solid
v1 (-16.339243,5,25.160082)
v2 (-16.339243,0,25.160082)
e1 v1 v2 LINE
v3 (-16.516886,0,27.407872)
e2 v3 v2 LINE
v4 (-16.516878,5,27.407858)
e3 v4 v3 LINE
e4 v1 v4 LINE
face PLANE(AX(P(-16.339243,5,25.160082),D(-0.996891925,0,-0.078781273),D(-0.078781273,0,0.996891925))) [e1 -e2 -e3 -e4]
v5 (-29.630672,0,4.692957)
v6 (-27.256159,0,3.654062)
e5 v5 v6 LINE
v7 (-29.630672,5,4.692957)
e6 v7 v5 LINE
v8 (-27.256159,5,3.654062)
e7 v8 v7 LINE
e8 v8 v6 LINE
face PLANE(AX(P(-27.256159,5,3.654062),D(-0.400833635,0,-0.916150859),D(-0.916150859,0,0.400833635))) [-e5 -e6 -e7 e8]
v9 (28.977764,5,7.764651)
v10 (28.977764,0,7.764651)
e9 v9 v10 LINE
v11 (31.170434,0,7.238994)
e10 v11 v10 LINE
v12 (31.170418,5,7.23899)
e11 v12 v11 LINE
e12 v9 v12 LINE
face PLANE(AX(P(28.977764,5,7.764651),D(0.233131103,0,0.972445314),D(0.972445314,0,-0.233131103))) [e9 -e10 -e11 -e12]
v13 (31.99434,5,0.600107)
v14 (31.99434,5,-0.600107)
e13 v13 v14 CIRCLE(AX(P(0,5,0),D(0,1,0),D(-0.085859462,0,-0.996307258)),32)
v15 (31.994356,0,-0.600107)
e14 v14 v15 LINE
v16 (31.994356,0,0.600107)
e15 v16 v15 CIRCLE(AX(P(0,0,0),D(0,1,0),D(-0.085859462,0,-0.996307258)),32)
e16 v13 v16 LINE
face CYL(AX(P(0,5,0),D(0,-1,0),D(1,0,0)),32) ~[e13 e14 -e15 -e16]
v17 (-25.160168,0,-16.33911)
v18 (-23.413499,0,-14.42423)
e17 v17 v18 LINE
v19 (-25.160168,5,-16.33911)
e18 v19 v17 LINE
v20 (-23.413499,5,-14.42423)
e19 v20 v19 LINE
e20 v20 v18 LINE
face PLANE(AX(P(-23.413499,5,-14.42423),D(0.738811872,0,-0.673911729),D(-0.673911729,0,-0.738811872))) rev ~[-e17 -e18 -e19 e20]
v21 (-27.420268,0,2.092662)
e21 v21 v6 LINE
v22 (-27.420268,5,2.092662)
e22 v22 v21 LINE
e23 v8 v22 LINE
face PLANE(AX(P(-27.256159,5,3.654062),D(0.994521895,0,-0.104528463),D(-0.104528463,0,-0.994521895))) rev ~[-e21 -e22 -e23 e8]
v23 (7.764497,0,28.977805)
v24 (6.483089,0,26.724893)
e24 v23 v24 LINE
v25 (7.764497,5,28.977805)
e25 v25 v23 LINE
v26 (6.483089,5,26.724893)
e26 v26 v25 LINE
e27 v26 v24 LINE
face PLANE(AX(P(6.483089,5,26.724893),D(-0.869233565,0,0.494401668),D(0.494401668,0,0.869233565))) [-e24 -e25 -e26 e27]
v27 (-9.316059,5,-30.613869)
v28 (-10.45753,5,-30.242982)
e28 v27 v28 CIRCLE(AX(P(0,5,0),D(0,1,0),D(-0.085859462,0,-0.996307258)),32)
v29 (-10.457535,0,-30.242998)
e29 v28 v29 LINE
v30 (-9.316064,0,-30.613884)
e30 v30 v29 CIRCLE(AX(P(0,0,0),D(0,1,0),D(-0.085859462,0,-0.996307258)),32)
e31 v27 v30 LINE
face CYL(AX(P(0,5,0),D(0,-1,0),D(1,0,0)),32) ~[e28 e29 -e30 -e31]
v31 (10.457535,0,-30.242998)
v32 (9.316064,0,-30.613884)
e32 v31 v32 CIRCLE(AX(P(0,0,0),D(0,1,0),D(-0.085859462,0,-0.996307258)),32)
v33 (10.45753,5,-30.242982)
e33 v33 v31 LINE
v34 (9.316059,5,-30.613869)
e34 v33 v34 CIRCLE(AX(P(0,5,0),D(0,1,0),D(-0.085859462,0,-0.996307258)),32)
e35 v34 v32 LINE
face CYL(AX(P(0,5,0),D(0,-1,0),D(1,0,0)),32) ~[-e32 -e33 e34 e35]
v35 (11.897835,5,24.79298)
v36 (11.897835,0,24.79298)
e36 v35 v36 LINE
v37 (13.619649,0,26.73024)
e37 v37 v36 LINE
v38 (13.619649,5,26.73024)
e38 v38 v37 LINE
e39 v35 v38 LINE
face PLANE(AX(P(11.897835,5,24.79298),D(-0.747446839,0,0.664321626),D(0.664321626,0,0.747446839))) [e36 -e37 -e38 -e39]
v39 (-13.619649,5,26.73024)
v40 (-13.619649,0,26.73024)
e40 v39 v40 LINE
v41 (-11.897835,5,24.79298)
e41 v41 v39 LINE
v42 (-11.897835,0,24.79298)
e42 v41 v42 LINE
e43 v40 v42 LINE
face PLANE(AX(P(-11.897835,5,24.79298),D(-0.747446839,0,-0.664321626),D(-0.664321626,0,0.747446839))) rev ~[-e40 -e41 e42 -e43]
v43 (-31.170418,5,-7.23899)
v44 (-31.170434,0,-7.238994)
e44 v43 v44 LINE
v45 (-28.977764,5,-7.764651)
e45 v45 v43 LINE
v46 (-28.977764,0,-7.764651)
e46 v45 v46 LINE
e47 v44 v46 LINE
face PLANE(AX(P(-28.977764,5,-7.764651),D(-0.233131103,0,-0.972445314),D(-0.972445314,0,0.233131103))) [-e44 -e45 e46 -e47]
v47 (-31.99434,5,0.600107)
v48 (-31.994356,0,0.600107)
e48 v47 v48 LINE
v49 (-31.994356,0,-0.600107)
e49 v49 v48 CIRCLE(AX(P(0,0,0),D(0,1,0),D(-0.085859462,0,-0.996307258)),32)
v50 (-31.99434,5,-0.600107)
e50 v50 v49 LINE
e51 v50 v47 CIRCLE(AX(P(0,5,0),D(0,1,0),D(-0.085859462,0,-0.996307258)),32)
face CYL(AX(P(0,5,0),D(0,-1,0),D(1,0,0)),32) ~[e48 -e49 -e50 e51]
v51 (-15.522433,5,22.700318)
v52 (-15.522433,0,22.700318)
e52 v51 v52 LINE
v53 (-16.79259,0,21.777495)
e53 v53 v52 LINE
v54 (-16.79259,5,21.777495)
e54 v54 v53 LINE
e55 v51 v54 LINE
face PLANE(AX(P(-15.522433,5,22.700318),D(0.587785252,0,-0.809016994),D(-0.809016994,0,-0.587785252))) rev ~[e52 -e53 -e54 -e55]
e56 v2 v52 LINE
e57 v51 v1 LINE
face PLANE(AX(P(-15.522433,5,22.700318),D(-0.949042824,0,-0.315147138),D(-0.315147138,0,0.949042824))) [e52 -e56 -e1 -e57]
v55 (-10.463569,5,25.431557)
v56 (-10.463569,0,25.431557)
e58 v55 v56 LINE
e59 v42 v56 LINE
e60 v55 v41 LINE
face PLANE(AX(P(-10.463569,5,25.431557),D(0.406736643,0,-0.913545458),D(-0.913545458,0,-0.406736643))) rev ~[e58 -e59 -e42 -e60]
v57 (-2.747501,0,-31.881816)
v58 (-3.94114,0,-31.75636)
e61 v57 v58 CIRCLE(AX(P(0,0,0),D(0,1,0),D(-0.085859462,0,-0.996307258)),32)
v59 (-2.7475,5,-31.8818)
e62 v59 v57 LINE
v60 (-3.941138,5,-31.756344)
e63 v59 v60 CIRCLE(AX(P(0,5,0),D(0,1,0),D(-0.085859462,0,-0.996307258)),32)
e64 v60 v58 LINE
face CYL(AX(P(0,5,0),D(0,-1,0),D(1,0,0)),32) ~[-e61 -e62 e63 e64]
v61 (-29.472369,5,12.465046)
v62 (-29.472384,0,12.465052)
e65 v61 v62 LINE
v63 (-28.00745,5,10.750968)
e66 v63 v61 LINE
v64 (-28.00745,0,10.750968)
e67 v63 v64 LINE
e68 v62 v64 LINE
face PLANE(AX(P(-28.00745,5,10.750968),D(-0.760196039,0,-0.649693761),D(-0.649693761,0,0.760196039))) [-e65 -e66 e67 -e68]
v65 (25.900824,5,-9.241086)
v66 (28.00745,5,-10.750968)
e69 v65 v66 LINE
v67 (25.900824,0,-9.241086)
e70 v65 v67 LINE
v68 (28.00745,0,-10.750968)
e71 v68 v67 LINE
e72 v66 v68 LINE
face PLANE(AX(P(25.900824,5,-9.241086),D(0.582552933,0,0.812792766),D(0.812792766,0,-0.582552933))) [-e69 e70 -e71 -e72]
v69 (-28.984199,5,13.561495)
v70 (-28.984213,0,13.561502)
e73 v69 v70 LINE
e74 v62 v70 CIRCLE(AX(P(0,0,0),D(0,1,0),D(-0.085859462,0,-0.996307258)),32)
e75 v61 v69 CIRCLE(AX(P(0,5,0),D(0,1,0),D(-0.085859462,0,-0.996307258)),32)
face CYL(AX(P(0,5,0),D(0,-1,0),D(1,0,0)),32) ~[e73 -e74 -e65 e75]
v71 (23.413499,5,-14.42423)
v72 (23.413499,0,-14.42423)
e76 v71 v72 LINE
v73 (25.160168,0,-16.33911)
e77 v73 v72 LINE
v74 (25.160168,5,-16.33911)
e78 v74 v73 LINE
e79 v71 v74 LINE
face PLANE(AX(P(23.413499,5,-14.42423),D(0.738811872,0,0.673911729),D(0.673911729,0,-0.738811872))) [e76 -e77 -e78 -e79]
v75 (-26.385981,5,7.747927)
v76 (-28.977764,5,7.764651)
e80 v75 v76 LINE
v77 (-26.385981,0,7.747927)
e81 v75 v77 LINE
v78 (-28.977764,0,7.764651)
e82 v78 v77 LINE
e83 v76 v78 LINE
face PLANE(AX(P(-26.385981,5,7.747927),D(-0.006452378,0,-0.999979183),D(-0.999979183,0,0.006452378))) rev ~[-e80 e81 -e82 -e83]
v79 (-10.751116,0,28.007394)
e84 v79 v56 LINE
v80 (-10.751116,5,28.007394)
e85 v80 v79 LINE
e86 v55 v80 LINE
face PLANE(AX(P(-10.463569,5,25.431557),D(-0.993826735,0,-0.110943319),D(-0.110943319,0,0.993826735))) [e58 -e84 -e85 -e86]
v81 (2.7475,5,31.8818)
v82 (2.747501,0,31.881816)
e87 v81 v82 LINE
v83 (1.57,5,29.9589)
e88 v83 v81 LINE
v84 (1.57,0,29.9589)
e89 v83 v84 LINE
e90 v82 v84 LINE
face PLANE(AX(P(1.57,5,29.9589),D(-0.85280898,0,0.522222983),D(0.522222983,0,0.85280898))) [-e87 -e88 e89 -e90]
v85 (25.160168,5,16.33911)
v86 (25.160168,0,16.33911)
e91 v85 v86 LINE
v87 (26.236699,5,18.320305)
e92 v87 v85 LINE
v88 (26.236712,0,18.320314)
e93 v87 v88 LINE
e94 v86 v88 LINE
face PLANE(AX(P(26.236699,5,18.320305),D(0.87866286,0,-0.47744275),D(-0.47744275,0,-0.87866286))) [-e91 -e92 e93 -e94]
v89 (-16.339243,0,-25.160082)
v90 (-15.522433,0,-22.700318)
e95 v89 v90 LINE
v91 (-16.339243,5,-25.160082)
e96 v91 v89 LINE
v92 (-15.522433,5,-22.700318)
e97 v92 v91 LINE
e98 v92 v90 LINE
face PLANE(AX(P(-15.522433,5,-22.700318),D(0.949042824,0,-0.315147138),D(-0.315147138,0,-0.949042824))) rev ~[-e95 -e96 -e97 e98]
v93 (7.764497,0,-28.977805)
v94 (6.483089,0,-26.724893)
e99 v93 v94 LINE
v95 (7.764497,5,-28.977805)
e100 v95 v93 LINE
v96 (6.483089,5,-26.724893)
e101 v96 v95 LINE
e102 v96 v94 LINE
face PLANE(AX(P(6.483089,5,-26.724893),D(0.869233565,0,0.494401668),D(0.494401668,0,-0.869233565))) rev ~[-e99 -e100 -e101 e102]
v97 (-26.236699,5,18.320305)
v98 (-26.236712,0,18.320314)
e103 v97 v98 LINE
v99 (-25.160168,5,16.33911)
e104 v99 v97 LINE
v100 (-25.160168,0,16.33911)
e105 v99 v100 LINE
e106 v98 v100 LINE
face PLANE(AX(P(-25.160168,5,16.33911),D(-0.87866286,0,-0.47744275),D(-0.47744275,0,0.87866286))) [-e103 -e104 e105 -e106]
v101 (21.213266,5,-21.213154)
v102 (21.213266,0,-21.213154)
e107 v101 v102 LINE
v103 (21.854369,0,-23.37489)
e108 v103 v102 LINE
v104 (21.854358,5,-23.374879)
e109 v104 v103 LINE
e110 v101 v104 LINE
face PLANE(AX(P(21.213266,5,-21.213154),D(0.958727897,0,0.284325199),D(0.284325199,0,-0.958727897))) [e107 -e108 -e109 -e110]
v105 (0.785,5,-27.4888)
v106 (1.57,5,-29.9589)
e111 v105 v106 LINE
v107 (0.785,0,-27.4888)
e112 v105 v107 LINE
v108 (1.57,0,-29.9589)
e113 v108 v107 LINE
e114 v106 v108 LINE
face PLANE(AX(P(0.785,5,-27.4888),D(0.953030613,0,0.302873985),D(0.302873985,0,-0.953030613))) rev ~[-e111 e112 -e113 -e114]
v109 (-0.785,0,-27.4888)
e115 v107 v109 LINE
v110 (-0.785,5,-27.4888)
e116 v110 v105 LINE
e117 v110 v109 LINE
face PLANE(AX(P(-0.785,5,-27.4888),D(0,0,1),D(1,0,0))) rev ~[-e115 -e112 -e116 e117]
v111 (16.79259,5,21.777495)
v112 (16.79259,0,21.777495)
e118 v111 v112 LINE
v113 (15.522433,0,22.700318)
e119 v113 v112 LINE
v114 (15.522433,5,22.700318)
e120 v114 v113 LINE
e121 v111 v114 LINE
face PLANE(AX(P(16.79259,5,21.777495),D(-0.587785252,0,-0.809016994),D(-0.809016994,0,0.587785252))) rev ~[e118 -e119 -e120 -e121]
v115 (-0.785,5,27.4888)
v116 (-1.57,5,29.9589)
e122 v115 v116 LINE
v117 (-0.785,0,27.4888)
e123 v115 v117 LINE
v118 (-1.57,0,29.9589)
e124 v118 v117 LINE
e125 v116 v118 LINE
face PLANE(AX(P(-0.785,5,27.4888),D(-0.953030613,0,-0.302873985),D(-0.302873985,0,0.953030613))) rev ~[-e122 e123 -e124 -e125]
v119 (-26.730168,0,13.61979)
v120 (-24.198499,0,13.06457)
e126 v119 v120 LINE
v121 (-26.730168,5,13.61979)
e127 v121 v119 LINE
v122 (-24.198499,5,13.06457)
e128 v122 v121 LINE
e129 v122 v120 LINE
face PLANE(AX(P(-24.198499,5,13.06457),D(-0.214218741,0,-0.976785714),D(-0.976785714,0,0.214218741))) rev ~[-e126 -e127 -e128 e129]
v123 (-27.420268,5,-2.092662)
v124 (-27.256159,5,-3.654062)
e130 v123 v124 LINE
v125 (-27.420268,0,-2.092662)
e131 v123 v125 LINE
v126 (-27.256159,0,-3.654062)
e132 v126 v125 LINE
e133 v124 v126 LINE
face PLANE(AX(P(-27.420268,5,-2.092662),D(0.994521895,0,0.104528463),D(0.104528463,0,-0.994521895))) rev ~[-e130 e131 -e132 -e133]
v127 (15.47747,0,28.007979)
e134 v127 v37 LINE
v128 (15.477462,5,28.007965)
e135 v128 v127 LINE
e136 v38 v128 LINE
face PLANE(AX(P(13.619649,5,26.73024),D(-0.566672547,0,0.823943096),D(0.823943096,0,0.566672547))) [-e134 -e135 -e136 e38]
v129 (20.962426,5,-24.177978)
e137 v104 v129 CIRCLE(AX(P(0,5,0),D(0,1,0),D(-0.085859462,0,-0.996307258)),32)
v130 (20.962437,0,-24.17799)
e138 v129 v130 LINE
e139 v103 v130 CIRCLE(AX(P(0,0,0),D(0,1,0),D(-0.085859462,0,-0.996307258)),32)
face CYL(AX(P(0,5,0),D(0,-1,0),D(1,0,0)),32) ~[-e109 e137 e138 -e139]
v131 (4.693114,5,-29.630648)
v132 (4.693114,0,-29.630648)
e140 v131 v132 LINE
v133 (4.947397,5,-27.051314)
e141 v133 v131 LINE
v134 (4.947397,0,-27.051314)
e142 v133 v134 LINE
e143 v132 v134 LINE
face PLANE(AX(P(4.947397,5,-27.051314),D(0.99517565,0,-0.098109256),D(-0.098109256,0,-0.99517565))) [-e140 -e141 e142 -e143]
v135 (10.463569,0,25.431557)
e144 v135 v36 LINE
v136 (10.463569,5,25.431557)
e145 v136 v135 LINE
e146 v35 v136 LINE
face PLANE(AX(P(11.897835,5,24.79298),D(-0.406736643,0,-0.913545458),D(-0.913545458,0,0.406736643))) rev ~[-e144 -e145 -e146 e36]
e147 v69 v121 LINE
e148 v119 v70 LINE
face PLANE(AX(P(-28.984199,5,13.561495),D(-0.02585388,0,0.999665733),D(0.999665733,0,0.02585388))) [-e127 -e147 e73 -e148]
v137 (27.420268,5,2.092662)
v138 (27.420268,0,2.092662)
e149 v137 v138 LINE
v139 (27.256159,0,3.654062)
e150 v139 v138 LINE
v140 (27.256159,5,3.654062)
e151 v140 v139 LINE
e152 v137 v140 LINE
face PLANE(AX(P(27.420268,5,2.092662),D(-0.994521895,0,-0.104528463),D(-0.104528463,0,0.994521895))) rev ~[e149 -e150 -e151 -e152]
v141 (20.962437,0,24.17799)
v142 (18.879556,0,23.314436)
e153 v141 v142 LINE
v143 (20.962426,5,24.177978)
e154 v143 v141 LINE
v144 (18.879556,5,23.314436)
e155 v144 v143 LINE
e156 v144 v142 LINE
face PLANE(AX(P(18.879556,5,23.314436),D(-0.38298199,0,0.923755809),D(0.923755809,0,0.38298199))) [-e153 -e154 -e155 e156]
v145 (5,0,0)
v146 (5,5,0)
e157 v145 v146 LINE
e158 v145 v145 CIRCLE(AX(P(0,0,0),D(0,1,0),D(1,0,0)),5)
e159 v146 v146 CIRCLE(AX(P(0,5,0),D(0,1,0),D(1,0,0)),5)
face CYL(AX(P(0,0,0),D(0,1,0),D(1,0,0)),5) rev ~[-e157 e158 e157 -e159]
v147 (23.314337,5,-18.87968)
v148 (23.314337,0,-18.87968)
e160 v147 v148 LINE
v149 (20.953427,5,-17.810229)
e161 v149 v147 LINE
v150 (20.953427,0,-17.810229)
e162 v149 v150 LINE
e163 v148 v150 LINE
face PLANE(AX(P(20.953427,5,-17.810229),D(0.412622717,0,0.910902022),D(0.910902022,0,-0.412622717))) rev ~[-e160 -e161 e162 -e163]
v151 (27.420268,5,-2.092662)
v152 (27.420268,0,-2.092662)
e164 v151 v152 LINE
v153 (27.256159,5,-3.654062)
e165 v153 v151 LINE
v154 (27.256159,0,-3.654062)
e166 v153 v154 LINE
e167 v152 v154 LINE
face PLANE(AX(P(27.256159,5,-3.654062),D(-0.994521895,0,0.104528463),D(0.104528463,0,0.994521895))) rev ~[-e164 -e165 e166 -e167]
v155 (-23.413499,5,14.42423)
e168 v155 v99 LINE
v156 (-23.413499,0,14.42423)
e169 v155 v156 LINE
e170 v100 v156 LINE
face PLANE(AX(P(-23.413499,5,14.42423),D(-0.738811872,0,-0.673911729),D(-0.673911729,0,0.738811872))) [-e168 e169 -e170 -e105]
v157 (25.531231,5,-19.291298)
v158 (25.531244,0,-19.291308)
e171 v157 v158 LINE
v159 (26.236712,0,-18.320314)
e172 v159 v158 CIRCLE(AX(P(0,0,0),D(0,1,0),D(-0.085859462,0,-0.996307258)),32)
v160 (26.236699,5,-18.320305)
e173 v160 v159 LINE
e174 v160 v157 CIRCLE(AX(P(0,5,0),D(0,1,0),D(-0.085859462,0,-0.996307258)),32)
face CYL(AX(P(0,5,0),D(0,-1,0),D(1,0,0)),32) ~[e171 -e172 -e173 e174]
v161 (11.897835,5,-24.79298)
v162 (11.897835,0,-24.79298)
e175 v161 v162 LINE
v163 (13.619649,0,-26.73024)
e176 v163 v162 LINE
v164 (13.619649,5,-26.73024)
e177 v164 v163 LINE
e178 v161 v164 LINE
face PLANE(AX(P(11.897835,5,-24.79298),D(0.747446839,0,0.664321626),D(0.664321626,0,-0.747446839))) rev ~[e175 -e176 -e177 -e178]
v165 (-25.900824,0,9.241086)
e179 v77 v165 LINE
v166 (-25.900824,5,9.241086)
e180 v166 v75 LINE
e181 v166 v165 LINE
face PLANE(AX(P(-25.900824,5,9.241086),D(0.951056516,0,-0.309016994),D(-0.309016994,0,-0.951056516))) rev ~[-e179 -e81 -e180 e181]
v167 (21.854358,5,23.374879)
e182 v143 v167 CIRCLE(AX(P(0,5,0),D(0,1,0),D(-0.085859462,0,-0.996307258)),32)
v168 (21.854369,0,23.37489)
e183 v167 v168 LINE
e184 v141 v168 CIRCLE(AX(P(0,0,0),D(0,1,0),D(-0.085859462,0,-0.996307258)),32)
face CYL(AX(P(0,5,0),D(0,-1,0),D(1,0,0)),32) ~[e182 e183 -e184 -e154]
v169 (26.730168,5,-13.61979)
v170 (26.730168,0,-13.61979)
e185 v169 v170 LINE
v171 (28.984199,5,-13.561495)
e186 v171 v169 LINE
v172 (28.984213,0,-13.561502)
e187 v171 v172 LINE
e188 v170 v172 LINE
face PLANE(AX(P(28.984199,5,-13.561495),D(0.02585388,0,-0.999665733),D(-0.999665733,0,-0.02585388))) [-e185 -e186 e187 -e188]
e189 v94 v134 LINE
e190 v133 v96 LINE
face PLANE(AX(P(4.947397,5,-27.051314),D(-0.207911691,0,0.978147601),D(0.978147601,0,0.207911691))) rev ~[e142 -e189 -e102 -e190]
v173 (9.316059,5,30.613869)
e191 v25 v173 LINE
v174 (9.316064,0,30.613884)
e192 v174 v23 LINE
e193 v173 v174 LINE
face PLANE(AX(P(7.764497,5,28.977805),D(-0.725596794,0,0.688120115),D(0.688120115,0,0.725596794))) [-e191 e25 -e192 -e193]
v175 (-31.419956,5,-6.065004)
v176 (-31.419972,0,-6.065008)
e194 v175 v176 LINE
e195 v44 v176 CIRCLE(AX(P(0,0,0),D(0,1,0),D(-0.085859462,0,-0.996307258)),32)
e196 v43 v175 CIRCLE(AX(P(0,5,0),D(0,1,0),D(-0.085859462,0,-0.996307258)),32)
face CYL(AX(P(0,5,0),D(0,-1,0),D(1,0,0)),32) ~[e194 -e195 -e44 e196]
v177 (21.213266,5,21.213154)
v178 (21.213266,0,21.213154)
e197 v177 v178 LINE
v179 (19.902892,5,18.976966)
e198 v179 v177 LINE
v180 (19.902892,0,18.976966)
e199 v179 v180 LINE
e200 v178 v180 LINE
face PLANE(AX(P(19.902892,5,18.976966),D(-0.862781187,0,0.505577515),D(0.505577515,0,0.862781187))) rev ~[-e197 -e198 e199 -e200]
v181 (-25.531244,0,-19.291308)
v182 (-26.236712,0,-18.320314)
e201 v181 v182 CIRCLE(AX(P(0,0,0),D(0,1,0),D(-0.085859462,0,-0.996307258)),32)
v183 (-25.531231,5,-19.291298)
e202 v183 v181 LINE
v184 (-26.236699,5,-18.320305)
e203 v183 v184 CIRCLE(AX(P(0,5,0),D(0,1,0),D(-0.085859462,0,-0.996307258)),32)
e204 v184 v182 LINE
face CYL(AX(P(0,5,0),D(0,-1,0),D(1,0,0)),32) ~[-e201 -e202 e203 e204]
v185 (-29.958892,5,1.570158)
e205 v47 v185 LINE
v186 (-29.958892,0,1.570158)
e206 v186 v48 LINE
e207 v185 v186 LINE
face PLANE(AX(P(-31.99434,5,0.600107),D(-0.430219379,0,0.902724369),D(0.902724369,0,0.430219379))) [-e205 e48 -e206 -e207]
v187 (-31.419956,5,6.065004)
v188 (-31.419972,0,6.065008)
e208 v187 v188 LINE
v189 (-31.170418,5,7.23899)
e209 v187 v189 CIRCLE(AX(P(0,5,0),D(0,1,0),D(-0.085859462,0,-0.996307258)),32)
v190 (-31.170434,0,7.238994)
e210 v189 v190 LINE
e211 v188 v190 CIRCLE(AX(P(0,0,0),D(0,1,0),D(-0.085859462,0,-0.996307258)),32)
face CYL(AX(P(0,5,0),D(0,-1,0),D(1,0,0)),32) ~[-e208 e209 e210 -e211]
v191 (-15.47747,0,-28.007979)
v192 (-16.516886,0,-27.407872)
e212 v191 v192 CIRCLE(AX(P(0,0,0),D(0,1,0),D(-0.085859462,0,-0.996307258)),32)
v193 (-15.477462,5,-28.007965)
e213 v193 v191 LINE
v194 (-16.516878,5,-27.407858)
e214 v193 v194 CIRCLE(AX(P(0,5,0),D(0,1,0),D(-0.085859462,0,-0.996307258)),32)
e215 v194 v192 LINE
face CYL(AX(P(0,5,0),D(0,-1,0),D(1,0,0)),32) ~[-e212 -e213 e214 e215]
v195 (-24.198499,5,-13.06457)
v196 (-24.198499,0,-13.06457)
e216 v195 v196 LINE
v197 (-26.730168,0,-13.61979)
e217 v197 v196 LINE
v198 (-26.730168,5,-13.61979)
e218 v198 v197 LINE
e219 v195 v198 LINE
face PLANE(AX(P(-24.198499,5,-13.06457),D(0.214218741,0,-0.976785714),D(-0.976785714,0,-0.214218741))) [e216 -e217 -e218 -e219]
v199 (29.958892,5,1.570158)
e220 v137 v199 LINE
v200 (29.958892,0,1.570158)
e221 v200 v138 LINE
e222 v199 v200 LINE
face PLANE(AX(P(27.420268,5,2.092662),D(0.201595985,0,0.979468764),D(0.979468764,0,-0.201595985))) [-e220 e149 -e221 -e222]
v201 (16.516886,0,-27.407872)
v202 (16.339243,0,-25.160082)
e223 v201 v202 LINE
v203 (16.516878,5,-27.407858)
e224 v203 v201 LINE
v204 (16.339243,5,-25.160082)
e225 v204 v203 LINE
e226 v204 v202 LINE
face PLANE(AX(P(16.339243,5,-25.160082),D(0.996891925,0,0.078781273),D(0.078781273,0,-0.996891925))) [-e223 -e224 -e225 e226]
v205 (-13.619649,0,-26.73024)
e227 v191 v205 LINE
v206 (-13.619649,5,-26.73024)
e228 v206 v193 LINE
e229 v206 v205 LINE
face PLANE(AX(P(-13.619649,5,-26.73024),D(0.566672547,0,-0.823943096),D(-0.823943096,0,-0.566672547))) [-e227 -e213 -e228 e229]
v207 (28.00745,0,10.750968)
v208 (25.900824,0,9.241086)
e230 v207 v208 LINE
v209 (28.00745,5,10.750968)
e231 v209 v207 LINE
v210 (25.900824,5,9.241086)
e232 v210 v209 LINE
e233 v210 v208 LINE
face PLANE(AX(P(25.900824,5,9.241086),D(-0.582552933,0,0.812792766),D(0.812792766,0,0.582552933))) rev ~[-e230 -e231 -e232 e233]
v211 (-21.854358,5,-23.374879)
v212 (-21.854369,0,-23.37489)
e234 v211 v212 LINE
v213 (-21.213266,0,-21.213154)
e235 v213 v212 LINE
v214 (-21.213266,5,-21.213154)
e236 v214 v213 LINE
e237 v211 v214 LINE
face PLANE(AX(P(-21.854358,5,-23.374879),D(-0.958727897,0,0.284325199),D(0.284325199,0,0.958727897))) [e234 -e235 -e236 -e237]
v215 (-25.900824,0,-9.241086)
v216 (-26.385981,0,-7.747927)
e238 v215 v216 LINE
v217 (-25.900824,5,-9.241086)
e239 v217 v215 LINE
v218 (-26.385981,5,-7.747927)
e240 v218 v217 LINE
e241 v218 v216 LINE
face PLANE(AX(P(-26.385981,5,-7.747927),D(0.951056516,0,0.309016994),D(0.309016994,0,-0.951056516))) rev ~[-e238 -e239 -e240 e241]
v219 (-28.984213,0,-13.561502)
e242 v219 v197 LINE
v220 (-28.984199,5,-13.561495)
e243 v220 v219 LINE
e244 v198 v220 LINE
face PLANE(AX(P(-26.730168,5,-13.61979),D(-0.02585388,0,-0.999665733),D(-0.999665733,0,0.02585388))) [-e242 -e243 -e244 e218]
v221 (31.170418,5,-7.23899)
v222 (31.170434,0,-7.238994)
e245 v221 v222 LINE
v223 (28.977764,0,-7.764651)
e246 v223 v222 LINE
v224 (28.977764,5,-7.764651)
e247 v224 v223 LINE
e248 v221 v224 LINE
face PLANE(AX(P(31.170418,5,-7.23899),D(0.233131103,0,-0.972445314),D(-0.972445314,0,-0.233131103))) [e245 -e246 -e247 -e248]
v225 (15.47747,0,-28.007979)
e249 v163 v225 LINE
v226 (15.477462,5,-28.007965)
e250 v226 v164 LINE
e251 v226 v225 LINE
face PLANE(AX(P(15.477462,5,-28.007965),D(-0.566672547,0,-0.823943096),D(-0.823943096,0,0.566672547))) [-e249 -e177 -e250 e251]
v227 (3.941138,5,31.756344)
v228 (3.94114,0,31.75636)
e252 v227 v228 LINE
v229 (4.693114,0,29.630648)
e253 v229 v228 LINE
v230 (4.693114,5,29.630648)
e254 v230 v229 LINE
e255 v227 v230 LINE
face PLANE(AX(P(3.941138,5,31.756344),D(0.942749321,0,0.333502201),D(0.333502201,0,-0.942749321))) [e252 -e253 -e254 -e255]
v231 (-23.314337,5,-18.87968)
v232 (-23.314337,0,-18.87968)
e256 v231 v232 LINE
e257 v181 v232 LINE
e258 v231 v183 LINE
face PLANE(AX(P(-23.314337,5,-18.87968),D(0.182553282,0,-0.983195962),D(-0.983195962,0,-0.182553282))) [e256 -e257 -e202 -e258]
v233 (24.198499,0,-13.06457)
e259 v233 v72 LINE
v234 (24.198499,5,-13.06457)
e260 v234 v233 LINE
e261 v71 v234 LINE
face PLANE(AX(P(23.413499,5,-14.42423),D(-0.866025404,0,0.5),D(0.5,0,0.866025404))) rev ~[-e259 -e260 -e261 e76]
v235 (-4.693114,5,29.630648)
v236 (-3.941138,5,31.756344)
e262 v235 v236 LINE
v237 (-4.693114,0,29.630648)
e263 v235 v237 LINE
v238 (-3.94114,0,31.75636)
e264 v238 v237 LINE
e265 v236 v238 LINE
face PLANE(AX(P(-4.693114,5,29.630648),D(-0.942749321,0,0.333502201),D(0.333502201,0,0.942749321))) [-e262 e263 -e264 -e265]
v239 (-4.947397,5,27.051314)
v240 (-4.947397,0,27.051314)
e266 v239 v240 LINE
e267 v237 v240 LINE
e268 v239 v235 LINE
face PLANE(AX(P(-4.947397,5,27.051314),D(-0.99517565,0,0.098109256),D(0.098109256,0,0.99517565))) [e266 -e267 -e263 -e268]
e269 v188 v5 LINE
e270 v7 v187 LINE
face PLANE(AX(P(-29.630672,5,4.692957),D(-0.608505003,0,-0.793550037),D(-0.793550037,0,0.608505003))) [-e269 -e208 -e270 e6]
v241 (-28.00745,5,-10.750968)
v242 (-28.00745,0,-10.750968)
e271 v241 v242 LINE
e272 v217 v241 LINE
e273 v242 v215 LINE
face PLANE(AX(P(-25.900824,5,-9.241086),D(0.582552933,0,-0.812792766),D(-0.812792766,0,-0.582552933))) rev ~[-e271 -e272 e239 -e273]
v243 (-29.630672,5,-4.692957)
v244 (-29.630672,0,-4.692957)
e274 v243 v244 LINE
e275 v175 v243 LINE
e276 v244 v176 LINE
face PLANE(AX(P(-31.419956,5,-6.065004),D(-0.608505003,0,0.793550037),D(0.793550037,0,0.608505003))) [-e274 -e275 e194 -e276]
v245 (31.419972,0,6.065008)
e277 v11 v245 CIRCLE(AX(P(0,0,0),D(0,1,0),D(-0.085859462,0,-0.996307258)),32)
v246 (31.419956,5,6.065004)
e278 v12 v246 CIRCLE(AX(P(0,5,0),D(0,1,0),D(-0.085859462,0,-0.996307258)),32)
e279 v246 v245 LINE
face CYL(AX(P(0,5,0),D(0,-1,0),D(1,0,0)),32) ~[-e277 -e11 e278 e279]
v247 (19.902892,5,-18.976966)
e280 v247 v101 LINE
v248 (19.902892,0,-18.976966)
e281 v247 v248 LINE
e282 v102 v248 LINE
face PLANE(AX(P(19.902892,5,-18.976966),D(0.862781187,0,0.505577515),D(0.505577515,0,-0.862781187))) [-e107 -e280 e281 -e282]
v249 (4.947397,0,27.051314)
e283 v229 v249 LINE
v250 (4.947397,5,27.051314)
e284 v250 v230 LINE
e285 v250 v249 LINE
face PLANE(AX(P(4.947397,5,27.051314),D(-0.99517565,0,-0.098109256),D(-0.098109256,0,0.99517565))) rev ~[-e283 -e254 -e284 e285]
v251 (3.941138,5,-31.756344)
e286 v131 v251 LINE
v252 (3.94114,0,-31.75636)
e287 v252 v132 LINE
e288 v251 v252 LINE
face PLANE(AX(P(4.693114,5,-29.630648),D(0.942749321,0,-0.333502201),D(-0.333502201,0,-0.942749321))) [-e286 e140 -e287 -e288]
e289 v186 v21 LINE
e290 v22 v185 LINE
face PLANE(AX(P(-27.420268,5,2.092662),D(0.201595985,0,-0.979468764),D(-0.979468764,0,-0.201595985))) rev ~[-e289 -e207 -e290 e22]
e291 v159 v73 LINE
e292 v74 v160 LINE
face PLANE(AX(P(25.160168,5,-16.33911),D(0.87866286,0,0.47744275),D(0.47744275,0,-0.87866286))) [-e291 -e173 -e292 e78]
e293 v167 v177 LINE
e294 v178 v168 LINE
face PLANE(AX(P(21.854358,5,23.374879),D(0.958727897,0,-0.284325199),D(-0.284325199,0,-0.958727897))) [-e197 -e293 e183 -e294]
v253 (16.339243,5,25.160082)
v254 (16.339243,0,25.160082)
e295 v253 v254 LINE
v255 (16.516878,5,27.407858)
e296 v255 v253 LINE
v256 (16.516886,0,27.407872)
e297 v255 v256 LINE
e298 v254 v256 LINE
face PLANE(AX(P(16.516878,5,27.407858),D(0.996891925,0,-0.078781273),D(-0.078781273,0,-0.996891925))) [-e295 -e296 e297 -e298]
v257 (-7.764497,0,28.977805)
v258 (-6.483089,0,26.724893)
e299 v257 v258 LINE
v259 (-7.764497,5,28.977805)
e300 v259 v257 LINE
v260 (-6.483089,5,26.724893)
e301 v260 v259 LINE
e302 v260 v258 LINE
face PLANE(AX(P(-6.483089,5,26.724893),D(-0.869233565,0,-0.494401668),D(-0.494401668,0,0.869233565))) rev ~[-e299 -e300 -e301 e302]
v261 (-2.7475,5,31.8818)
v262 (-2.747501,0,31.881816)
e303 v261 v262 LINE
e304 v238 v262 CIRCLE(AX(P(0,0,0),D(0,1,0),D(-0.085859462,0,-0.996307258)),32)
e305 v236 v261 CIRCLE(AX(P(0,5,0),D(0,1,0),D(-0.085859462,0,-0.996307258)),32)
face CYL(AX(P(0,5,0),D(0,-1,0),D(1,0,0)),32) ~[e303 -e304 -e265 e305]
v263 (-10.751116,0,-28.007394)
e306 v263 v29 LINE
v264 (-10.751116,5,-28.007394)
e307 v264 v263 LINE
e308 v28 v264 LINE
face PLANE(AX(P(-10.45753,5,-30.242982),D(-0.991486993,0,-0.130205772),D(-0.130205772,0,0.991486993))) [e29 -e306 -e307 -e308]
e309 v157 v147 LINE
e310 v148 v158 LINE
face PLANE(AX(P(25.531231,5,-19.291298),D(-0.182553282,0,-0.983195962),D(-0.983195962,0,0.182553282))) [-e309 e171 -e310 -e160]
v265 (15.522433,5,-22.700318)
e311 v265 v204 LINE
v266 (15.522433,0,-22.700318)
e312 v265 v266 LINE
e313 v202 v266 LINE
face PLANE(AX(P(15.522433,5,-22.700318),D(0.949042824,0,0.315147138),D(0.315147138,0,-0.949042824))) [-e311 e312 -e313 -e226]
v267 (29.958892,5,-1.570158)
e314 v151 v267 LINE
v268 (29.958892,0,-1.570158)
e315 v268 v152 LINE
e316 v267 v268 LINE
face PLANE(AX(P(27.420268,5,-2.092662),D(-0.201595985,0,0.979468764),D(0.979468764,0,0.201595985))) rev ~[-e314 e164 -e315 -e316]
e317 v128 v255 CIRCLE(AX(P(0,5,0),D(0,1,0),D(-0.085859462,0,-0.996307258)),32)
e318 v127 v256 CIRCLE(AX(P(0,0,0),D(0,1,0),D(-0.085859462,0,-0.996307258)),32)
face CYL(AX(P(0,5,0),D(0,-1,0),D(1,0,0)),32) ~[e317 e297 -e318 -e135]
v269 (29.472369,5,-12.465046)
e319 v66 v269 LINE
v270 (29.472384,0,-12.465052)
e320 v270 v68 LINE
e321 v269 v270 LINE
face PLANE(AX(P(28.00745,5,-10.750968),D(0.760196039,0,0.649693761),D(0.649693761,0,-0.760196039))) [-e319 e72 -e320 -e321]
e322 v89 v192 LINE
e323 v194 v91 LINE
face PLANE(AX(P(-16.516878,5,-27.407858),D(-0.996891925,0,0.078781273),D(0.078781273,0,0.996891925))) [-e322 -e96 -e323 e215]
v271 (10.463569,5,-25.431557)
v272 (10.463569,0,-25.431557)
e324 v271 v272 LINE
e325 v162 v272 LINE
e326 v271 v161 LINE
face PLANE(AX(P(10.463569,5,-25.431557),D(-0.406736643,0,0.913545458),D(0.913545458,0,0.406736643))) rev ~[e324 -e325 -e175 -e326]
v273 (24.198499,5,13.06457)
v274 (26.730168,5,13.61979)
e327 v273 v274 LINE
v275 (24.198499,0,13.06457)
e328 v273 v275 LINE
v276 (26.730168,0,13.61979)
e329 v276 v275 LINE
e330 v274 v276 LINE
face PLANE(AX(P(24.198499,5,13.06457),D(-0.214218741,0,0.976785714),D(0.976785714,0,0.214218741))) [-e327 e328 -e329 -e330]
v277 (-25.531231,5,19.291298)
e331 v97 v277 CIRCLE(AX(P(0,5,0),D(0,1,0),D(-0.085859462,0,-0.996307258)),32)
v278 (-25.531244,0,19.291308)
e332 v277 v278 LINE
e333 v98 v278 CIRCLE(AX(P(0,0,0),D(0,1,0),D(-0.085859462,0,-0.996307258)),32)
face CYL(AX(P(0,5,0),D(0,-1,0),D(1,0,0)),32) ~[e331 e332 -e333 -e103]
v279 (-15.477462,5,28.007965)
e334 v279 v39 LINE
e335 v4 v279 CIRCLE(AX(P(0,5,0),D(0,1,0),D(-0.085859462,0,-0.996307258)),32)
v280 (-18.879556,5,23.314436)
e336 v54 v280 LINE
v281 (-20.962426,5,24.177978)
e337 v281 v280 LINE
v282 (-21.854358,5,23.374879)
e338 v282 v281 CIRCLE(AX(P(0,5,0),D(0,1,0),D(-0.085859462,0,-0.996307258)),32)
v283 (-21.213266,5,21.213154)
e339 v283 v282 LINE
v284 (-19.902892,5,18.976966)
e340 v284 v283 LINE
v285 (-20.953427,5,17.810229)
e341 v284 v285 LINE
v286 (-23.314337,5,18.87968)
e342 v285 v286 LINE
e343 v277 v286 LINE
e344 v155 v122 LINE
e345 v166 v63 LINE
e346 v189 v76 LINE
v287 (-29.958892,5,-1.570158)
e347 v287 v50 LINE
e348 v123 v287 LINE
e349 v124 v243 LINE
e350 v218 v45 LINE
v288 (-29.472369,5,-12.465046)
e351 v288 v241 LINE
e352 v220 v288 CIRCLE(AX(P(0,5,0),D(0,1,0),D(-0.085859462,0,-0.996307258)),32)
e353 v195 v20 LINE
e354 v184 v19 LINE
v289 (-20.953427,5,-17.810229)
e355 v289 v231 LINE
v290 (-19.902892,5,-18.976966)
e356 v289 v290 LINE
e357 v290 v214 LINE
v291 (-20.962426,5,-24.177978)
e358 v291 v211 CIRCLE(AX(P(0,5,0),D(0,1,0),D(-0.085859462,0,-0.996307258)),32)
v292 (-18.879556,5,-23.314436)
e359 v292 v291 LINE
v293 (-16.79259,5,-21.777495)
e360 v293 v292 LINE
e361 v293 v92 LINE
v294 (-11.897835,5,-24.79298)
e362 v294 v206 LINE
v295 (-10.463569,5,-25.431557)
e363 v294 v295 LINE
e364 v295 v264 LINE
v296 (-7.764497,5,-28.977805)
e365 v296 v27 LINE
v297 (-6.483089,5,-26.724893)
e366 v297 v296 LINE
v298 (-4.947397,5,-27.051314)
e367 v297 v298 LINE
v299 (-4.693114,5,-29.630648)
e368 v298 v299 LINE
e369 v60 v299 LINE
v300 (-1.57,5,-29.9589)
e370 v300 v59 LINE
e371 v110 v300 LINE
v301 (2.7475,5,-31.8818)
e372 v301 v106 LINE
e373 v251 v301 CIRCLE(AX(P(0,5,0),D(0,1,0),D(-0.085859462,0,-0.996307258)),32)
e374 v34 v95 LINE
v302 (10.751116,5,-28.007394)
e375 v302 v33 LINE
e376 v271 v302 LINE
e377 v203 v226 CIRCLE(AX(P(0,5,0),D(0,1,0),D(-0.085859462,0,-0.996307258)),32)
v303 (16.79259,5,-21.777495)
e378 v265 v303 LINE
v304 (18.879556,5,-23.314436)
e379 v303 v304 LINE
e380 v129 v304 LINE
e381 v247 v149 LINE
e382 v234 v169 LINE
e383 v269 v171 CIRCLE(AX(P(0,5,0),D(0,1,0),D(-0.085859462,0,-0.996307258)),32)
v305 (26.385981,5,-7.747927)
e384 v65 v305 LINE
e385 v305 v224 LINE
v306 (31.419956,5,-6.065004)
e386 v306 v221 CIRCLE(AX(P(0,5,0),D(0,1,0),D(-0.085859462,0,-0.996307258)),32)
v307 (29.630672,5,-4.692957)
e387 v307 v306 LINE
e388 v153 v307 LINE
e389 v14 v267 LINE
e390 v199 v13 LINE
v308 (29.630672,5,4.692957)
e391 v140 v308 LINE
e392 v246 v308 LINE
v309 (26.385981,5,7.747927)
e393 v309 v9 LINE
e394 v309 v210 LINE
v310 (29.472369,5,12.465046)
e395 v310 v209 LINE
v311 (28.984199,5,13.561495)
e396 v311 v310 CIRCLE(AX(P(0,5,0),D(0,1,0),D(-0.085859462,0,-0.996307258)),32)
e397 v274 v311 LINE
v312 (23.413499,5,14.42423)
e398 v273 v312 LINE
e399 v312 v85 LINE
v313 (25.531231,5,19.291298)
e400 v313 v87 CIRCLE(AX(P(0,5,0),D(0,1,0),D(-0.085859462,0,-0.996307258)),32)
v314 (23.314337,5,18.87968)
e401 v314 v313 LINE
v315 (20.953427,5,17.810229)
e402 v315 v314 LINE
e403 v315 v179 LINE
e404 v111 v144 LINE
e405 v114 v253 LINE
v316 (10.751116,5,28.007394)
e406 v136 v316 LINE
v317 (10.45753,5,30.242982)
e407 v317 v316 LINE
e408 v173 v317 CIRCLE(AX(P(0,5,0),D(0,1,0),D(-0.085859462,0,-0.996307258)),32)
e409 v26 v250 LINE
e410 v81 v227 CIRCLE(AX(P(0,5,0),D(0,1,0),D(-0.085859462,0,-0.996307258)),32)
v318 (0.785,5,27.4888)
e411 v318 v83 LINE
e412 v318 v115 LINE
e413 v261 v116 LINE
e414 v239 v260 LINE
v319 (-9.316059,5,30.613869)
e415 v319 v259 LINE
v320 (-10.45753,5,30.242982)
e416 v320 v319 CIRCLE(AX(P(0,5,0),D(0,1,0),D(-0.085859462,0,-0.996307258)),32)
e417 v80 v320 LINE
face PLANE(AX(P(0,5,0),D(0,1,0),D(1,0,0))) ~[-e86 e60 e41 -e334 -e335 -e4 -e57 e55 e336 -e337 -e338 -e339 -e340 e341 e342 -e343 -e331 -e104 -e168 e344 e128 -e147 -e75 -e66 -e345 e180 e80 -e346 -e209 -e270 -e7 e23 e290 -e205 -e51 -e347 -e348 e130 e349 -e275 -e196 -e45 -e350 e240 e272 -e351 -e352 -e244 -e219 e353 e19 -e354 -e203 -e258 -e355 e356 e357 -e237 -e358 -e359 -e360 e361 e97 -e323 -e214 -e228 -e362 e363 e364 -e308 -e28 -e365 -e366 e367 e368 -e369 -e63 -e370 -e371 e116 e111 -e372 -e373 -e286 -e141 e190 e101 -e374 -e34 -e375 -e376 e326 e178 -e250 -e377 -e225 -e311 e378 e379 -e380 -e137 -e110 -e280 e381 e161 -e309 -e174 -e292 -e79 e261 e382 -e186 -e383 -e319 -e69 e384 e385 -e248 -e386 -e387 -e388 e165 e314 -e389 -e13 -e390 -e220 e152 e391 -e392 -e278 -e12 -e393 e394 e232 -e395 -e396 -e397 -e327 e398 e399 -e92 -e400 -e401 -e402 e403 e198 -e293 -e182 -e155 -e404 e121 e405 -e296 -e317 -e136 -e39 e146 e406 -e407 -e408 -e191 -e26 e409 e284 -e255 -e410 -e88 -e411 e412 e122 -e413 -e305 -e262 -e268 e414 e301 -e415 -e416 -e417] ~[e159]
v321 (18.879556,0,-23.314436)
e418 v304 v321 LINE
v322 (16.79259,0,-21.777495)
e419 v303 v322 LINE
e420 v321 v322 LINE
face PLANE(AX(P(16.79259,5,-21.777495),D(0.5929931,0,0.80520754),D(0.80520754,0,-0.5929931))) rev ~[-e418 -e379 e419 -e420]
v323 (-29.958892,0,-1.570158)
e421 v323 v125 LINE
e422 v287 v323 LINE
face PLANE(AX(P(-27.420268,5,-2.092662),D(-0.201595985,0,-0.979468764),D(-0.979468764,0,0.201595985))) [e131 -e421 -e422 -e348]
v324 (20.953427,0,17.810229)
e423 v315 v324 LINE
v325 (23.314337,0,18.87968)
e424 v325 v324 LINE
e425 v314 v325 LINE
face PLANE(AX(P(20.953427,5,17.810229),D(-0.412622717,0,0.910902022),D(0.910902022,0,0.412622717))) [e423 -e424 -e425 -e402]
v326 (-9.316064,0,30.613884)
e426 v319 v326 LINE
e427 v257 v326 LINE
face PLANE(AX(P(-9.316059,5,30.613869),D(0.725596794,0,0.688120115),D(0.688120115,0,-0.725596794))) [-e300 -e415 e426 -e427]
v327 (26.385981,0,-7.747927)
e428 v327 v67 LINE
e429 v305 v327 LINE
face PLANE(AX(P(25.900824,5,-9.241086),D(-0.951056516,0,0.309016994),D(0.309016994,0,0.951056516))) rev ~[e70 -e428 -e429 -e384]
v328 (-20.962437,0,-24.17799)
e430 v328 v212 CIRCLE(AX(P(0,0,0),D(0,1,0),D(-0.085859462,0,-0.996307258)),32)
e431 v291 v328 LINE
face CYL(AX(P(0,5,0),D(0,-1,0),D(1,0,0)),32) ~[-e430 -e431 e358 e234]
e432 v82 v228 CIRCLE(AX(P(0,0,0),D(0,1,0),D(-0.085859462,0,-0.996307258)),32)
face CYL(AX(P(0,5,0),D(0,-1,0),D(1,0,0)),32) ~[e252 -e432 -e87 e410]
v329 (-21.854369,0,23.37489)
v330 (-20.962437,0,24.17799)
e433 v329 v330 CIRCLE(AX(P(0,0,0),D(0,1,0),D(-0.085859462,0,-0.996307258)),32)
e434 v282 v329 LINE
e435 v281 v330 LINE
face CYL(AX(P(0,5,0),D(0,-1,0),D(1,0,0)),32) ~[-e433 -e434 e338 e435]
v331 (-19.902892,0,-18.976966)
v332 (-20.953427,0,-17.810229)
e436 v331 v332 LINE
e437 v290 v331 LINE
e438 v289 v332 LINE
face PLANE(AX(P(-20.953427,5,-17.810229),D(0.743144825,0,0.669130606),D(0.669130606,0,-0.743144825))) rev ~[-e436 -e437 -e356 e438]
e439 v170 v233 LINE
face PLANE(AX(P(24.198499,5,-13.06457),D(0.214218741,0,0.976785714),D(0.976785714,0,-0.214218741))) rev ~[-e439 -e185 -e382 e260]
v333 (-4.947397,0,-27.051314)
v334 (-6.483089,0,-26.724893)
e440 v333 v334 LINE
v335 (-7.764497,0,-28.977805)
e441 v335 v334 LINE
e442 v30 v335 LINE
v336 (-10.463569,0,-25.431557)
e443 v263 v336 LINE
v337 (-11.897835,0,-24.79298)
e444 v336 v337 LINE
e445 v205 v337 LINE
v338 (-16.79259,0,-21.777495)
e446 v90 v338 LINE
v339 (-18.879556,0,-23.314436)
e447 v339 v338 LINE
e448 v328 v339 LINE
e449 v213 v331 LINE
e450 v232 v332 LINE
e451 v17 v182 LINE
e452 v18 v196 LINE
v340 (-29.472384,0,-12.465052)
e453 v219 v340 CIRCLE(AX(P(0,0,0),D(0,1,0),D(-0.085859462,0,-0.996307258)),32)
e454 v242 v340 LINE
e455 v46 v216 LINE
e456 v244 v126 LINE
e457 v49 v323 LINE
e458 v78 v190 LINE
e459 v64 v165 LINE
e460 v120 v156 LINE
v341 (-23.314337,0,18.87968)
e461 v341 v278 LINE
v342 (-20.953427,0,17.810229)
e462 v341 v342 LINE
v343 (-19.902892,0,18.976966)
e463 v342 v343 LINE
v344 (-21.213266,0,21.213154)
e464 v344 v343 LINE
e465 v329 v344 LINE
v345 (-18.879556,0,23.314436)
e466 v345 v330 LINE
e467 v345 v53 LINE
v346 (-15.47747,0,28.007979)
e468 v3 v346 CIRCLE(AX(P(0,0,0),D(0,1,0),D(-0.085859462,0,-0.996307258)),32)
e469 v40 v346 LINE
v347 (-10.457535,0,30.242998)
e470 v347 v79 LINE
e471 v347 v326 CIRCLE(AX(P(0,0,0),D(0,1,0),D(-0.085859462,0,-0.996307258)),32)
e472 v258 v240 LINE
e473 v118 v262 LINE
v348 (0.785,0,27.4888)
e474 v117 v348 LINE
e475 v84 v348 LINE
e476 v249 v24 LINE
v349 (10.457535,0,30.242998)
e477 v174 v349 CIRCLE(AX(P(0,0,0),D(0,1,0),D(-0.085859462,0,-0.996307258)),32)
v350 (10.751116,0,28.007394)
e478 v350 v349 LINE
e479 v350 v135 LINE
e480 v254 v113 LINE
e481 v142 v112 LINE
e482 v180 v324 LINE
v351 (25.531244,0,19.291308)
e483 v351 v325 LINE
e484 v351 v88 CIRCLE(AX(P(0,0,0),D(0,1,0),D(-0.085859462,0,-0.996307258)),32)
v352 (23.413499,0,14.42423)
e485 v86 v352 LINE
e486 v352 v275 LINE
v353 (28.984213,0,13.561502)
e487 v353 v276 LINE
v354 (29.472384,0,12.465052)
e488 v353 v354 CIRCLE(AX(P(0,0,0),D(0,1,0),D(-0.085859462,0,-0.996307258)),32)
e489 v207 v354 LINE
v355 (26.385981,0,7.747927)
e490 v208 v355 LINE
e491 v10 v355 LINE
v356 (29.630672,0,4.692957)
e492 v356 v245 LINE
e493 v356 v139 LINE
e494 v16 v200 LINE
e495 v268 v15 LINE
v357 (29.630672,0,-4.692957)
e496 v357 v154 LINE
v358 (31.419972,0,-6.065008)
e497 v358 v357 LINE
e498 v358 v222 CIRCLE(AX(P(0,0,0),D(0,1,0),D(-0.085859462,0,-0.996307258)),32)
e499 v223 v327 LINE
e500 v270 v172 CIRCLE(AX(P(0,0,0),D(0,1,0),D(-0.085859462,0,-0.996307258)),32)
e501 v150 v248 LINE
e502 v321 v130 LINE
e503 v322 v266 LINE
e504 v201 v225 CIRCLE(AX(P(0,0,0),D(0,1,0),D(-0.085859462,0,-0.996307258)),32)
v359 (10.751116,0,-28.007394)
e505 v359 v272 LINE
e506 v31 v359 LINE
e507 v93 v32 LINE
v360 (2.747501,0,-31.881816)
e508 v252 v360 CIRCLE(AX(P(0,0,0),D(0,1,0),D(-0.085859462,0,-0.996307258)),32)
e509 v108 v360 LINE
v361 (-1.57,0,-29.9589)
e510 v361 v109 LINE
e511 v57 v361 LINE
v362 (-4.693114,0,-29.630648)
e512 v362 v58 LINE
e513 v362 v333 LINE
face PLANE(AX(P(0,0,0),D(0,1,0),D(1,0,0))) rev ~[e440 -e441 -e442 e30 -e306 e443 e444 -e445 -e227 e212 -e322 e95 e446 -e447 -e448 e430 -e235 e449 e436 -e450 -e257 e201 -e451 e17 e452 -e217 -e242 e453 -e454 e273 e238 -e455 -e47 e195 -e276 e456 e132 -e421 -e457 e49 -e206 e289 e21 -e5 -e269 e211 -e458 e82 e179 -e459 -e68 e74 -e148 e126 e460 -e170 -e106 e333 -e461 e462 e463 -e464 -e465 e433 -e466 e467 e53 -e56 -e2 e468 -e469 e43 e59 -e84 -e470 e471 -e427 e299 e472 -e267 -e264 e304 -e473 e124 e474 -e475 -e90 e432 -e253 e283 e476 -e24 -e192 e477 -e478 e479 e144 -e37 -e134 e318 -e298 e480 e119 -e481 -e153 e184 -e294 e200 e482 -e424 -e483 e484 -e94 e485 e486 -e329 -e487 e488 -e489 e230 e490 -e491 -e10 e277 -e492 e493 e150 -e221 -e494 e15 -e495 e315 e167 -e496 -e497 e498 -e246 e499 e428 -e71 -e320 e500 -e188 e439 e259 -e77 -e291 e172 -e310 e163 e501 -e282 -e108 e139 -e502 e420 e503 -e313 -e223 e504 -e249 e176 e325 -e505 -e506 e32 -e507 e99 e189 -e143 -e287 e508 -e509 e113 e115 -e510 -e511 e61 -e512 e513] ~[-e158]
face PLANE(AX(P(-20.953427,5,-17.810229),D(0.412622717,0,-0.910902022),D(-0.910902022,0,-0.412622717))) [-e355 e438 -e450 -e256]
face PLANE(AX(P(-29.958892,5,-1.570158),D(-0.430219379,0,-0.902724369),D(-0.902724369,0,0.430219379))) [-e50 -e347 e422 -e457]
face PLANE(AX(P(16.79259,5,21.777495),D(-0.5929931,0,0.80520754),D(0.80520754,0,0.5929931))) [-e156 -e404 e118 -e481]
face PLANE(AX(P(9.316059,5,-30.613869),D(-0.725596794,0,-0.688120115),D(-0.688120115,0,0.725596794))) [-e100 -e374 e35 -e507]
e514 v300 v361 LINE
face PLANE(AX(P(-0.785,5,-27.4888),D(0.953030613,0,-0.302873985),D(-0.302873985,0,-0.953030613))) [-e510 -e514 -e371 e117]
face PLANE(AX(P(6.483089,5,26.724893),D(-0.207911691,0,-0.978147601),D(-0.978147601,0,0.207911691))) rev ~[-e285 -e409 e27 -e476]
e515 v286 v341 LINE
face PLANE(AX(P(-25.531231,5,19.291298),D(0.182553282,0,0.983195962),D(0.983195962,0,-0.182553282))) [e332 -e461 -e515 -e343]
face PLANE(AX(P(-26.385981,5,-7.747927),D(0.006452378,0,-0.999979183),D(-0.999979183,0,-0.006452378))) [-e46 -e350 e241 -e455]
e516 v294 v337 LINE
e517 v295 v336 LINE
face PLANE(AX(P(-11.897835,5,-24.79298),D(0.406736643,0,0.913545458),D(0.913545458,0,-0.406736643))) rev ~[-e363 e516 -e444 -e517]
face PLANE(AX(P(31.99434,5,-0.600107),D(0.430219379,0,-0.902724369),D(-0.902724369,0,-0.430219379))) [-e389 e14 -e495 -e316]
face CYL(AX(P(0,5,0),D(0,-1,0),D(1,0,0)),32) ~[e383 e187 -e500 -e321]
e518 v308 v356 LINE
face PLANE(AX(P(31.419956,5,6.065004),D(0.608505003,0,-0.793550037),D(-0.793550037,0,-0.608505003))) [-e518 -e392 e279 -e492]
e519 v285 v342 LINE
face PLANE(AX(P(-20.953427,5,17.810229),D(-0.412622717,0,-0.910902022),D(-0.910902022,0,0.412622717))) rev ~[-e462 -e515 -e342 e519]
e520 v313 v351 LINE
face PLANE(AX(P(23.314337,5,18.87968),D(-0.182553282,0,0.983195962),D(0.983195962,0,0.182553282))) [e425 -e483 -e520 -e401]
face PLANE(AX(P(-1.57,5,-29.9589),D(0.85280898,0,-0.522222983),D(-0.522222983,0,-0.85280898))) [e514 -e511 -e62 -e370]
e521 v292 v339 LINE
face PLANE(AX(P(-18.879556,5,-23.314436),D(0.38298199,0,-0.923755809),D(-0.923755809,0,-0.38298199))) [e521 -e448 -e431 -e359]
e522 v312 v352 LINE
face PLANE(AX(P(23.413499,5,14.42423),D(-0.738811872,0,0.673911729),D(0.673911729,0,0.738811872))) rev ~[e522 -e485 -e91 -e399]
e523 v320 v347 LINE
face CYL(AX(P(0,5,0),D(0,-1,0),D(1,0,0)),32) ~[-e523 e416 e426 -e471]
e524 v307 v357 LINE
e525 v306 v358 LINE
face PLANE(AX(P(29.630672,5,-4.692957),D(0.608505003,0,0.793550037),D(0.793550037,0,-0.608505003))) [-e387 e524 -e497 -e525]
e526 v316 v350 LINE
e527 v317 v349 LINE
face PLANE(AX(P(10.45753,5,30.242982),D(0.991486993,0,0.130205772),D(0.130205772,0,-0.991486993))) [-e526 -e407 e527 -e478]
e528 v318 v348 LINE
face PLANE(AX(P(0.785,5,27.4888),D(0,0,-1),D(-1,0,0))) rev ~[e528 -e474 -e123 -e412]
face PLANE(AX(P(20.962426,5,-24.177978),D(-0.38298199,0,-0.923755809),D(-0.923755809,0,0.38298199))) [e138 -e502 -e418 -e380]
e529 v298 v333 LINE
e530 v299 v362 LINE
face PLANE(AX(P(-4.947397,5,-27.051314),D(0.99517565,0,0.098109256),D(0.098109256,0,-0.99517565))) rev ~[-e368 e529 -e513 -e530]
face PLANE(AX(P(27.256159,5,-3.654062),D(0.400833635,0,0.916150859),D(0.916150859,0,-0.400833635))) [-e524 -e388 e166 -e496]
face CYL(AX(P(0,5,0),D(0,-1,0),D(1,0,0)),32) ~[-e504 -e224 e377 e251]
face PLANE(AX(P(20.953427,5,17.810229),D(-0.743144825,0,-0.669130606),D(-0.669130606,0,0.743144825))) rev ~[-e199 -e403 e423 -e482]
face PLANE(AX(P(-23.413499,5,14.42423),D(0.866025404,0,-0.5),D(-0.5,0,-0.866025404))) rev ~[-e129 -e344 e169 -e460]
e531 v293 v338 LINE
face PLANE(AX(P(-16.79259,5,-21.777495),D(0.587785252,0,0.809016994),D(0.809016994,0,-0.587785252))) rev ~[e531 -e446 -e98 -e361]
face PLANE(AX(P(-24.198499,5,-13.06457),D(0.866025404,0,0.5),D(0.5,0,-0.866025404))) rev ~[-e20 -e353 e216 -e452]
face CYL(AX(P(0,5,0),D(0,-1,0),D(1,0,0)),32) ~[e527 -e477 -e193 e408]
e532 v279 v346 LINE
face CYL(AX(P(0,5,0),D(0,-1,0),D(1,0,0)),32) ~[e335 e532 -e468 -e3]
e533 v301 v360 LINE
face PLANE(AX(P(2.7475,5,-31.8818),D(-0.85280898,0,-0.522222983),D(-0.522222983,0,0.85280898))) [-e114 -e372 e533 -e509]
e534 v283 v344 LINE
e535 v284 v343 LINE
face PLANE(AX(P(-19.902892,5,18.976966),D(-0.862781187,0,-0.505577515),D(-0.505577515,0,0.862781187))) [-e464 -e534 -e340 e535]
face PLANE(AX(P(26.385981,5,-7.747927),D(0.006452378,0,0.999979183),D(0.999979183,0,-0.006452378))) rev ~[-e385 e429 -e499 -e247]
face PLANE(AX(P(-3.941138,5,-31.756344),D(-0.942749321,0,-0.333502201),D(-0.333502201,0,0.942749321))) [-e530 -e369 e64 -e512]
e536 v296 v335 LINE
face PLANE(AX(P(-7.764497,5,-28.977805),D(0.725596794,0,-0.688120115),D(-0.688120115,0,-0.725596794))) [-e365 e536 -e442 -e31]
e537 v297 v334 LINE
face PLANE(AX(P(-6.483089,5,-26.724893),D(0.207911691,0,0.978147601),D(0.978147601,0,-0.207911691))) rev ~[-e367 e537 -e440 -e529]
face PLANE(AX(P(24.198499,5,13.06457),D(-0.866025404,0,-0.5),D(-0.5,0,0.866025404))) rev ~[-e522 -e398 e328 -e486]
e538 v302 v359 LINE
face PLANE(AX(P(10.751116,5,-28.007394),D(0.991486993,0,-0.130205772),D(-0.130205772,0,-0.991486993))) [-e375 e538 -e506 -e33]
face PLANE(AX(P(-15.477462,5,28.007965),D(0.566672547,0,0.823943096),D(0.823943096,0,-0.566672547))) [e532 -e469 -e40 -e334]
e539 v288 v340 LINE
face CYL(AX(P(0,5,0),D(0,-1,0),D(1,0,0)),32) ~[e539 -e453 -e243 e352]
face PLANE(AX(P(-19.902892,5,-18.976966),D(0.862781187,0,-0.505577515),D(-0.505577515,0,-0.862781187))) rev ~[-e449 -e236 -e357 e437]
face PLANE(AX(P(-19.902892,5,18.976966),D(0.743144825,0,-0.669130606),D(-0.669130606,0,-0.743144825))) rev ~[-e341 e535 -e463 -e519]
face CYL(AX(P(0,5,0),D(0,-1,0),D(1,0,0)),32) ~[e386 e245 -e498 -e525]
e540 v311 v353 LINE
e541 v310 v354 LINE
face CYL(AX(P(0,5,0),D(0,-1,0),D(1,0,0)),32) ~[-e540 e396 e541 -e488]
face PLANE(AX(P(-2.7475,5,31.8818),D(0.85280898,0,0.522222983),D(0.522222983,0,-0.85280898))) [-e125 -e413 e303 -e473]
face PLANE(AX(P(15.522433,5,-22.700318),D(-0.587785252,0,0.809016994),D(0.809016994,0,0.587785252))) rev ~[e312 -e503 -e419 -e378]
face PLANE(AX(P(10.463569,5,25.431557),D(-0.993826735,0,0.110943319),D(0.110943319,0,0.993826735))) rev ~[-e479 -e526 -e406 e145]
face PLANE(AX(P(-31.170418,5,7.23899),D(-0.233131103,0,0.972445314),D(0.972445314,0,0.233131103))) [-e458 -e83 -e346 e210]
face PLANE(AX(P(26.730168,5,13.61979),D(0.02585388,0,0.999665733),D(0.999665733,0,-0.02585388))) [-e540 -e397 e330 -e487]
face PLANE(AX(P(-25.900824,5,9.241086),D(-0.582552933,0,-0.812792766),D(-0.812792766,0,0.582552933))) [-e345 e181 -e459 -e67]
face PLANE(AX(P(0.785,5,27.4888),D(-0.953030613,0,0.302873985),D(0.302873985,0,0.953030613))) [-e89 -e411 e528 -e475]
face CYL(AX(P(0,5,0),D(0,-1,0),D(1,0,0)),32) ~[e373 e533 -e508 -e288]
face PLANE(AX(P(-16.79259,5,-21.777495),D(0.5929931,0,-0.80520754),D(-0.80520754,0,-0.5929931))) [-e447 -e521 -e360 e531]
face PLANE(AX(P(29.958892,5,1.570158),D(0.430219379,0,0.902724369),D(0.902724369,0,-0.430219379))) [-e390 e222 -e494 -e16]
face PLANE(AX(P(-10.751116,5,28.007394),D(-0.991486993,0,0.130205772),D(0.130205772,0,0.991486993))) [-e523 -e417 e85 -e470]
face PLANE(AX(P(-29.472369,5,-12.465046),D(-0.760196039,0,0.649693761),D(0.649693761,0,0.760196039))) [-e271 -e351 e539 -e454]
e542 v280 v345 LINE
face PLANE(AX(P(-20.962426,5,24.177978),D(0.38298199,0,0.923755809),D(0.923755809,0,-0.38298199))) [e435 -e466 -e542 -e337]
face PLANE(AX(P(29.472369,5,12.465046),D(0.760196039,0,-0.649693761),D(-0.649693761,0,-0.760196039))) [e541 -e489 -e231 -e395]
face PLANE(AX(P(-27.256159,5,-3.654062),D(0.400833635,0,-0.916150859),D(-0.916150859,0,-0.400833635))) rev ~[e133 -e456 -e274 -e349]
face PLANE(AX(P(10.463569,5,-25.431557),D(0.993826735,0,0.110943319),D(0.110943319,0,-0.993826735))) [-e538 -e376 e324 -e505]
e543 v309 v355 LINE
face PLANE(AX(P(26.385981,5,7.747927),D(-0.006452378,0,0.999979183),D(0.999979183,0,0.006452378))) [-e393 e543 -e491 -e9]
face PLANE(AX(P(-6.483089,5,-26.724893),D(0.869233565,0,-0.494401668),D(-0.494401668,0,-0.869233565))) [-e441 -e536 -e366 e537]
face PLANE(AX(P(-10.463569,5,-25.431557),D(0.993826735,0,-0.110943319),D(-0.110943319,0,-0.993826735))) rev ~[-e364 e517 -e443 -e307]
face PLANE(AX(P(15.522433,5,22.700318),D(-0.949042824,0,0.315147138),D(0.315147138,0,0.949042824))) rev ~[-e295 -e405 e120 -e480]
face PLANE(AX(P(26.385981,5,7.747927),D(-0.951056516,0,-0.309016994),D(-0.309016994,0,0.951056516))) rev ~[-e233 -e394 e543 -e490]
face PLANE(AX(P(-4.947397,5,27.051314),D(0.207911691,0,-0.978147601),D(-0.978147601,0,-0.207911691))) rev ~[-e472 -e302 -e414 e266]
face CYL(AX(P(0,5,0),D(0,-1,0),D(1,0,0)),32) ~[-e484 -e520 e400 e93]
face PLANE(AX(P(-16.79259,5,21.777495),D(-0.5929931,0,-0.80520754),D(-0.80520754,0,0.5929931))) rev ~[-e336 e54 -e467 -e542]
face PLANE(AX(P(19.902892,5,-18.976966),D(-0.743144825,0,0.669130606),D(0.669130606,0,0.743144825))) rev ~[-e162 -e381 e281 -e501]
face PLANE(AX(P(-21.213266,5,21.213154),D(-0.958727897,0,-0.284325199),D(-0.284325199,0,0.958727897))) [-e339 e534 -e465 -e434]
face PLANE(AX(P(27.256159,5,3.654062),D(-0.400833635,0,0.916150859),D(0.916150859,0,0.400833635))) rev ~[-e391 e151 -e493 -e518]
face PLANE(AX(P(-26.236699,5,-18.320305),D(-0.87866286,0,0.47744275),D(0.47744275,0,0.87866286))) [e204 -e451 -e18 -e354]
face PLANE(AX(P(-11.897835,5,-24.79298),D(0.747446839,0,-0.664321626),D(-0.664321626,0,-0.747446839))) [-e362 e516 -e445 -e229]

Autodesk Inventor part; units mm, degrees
ref_plane "YZ Plane" through (0, 0, 0) normal (1, 0, 0) x (0, 1, 0)
ref_plane "XZ Plane" through (0, 0, 0) normal (0, 1, 0) x (-1, 0, 0)
ref_plane "XY Plane" through (0, 0, 0) normal (0, 0, 1) x (1, 0, 0)
sketch "Эскиз1" plane through (0, 0, 0) normal (0, 0, 1) x (1, 0, 0)
  line L0 (0, 0) -> (0, 5)
  line L1 (5, 5) -> (32, 5)
  line L2 (32, 5) -> (32, 0)
  line L3 (32, 0) -> (5, 0)
  line L4 (5, 0) -> (5, 5)
  dimension "d0" = 5
  dimension "d1" = 10
  dimension "d2" = 5
  dimension "d3" = 64
revolve "Вращение1" add sketch "Эскиз1" angle 360 about axis through (0, 0, 0) along (0, 1, 0)
sketch "Эскиз2" plane through (0, 5, 0) normal (0, 1, 0) x (1, 0, 0)
  circle A0 centre (0, 0) radius 30 construction
  circle A1 centre (0, 0) radius 27.5 construction
  line L0 (-0.785, 27.4888) -> (0.785, 27.4888)
  line L1 (-0.785, 27.4888) -> (-1.57, 29.9589)
  line L2 (-1.57, 29.9589) -> (-2.7475, 31.8818)
  circle A2 centre (0, 0) radius 32 projected
  line L3 (0.785, 27.4888) -> (1.57, 29.9589)
  line L4 (2.7475, 31.8818) -> (1.57, 29.9589)
  dimension "d5" = 60
  dimension "d6" = 55
  dimension "d7" = 1.57
  dimension "d8" = 3.14
  dimension "d9" = 5.495
extrude "Выдавливание1" cut sketch "Эскиз2" against normal up to next contours L1 L2 A2 L4 L3 L0 picked at (-0.2617, 29.1355)
pattern_circular "Круговой массив1" count 30 over 360 about axis through (0, -10, 0) along (0, 1, 0) of "Выдавливание1"
properties part number "Колесо"
